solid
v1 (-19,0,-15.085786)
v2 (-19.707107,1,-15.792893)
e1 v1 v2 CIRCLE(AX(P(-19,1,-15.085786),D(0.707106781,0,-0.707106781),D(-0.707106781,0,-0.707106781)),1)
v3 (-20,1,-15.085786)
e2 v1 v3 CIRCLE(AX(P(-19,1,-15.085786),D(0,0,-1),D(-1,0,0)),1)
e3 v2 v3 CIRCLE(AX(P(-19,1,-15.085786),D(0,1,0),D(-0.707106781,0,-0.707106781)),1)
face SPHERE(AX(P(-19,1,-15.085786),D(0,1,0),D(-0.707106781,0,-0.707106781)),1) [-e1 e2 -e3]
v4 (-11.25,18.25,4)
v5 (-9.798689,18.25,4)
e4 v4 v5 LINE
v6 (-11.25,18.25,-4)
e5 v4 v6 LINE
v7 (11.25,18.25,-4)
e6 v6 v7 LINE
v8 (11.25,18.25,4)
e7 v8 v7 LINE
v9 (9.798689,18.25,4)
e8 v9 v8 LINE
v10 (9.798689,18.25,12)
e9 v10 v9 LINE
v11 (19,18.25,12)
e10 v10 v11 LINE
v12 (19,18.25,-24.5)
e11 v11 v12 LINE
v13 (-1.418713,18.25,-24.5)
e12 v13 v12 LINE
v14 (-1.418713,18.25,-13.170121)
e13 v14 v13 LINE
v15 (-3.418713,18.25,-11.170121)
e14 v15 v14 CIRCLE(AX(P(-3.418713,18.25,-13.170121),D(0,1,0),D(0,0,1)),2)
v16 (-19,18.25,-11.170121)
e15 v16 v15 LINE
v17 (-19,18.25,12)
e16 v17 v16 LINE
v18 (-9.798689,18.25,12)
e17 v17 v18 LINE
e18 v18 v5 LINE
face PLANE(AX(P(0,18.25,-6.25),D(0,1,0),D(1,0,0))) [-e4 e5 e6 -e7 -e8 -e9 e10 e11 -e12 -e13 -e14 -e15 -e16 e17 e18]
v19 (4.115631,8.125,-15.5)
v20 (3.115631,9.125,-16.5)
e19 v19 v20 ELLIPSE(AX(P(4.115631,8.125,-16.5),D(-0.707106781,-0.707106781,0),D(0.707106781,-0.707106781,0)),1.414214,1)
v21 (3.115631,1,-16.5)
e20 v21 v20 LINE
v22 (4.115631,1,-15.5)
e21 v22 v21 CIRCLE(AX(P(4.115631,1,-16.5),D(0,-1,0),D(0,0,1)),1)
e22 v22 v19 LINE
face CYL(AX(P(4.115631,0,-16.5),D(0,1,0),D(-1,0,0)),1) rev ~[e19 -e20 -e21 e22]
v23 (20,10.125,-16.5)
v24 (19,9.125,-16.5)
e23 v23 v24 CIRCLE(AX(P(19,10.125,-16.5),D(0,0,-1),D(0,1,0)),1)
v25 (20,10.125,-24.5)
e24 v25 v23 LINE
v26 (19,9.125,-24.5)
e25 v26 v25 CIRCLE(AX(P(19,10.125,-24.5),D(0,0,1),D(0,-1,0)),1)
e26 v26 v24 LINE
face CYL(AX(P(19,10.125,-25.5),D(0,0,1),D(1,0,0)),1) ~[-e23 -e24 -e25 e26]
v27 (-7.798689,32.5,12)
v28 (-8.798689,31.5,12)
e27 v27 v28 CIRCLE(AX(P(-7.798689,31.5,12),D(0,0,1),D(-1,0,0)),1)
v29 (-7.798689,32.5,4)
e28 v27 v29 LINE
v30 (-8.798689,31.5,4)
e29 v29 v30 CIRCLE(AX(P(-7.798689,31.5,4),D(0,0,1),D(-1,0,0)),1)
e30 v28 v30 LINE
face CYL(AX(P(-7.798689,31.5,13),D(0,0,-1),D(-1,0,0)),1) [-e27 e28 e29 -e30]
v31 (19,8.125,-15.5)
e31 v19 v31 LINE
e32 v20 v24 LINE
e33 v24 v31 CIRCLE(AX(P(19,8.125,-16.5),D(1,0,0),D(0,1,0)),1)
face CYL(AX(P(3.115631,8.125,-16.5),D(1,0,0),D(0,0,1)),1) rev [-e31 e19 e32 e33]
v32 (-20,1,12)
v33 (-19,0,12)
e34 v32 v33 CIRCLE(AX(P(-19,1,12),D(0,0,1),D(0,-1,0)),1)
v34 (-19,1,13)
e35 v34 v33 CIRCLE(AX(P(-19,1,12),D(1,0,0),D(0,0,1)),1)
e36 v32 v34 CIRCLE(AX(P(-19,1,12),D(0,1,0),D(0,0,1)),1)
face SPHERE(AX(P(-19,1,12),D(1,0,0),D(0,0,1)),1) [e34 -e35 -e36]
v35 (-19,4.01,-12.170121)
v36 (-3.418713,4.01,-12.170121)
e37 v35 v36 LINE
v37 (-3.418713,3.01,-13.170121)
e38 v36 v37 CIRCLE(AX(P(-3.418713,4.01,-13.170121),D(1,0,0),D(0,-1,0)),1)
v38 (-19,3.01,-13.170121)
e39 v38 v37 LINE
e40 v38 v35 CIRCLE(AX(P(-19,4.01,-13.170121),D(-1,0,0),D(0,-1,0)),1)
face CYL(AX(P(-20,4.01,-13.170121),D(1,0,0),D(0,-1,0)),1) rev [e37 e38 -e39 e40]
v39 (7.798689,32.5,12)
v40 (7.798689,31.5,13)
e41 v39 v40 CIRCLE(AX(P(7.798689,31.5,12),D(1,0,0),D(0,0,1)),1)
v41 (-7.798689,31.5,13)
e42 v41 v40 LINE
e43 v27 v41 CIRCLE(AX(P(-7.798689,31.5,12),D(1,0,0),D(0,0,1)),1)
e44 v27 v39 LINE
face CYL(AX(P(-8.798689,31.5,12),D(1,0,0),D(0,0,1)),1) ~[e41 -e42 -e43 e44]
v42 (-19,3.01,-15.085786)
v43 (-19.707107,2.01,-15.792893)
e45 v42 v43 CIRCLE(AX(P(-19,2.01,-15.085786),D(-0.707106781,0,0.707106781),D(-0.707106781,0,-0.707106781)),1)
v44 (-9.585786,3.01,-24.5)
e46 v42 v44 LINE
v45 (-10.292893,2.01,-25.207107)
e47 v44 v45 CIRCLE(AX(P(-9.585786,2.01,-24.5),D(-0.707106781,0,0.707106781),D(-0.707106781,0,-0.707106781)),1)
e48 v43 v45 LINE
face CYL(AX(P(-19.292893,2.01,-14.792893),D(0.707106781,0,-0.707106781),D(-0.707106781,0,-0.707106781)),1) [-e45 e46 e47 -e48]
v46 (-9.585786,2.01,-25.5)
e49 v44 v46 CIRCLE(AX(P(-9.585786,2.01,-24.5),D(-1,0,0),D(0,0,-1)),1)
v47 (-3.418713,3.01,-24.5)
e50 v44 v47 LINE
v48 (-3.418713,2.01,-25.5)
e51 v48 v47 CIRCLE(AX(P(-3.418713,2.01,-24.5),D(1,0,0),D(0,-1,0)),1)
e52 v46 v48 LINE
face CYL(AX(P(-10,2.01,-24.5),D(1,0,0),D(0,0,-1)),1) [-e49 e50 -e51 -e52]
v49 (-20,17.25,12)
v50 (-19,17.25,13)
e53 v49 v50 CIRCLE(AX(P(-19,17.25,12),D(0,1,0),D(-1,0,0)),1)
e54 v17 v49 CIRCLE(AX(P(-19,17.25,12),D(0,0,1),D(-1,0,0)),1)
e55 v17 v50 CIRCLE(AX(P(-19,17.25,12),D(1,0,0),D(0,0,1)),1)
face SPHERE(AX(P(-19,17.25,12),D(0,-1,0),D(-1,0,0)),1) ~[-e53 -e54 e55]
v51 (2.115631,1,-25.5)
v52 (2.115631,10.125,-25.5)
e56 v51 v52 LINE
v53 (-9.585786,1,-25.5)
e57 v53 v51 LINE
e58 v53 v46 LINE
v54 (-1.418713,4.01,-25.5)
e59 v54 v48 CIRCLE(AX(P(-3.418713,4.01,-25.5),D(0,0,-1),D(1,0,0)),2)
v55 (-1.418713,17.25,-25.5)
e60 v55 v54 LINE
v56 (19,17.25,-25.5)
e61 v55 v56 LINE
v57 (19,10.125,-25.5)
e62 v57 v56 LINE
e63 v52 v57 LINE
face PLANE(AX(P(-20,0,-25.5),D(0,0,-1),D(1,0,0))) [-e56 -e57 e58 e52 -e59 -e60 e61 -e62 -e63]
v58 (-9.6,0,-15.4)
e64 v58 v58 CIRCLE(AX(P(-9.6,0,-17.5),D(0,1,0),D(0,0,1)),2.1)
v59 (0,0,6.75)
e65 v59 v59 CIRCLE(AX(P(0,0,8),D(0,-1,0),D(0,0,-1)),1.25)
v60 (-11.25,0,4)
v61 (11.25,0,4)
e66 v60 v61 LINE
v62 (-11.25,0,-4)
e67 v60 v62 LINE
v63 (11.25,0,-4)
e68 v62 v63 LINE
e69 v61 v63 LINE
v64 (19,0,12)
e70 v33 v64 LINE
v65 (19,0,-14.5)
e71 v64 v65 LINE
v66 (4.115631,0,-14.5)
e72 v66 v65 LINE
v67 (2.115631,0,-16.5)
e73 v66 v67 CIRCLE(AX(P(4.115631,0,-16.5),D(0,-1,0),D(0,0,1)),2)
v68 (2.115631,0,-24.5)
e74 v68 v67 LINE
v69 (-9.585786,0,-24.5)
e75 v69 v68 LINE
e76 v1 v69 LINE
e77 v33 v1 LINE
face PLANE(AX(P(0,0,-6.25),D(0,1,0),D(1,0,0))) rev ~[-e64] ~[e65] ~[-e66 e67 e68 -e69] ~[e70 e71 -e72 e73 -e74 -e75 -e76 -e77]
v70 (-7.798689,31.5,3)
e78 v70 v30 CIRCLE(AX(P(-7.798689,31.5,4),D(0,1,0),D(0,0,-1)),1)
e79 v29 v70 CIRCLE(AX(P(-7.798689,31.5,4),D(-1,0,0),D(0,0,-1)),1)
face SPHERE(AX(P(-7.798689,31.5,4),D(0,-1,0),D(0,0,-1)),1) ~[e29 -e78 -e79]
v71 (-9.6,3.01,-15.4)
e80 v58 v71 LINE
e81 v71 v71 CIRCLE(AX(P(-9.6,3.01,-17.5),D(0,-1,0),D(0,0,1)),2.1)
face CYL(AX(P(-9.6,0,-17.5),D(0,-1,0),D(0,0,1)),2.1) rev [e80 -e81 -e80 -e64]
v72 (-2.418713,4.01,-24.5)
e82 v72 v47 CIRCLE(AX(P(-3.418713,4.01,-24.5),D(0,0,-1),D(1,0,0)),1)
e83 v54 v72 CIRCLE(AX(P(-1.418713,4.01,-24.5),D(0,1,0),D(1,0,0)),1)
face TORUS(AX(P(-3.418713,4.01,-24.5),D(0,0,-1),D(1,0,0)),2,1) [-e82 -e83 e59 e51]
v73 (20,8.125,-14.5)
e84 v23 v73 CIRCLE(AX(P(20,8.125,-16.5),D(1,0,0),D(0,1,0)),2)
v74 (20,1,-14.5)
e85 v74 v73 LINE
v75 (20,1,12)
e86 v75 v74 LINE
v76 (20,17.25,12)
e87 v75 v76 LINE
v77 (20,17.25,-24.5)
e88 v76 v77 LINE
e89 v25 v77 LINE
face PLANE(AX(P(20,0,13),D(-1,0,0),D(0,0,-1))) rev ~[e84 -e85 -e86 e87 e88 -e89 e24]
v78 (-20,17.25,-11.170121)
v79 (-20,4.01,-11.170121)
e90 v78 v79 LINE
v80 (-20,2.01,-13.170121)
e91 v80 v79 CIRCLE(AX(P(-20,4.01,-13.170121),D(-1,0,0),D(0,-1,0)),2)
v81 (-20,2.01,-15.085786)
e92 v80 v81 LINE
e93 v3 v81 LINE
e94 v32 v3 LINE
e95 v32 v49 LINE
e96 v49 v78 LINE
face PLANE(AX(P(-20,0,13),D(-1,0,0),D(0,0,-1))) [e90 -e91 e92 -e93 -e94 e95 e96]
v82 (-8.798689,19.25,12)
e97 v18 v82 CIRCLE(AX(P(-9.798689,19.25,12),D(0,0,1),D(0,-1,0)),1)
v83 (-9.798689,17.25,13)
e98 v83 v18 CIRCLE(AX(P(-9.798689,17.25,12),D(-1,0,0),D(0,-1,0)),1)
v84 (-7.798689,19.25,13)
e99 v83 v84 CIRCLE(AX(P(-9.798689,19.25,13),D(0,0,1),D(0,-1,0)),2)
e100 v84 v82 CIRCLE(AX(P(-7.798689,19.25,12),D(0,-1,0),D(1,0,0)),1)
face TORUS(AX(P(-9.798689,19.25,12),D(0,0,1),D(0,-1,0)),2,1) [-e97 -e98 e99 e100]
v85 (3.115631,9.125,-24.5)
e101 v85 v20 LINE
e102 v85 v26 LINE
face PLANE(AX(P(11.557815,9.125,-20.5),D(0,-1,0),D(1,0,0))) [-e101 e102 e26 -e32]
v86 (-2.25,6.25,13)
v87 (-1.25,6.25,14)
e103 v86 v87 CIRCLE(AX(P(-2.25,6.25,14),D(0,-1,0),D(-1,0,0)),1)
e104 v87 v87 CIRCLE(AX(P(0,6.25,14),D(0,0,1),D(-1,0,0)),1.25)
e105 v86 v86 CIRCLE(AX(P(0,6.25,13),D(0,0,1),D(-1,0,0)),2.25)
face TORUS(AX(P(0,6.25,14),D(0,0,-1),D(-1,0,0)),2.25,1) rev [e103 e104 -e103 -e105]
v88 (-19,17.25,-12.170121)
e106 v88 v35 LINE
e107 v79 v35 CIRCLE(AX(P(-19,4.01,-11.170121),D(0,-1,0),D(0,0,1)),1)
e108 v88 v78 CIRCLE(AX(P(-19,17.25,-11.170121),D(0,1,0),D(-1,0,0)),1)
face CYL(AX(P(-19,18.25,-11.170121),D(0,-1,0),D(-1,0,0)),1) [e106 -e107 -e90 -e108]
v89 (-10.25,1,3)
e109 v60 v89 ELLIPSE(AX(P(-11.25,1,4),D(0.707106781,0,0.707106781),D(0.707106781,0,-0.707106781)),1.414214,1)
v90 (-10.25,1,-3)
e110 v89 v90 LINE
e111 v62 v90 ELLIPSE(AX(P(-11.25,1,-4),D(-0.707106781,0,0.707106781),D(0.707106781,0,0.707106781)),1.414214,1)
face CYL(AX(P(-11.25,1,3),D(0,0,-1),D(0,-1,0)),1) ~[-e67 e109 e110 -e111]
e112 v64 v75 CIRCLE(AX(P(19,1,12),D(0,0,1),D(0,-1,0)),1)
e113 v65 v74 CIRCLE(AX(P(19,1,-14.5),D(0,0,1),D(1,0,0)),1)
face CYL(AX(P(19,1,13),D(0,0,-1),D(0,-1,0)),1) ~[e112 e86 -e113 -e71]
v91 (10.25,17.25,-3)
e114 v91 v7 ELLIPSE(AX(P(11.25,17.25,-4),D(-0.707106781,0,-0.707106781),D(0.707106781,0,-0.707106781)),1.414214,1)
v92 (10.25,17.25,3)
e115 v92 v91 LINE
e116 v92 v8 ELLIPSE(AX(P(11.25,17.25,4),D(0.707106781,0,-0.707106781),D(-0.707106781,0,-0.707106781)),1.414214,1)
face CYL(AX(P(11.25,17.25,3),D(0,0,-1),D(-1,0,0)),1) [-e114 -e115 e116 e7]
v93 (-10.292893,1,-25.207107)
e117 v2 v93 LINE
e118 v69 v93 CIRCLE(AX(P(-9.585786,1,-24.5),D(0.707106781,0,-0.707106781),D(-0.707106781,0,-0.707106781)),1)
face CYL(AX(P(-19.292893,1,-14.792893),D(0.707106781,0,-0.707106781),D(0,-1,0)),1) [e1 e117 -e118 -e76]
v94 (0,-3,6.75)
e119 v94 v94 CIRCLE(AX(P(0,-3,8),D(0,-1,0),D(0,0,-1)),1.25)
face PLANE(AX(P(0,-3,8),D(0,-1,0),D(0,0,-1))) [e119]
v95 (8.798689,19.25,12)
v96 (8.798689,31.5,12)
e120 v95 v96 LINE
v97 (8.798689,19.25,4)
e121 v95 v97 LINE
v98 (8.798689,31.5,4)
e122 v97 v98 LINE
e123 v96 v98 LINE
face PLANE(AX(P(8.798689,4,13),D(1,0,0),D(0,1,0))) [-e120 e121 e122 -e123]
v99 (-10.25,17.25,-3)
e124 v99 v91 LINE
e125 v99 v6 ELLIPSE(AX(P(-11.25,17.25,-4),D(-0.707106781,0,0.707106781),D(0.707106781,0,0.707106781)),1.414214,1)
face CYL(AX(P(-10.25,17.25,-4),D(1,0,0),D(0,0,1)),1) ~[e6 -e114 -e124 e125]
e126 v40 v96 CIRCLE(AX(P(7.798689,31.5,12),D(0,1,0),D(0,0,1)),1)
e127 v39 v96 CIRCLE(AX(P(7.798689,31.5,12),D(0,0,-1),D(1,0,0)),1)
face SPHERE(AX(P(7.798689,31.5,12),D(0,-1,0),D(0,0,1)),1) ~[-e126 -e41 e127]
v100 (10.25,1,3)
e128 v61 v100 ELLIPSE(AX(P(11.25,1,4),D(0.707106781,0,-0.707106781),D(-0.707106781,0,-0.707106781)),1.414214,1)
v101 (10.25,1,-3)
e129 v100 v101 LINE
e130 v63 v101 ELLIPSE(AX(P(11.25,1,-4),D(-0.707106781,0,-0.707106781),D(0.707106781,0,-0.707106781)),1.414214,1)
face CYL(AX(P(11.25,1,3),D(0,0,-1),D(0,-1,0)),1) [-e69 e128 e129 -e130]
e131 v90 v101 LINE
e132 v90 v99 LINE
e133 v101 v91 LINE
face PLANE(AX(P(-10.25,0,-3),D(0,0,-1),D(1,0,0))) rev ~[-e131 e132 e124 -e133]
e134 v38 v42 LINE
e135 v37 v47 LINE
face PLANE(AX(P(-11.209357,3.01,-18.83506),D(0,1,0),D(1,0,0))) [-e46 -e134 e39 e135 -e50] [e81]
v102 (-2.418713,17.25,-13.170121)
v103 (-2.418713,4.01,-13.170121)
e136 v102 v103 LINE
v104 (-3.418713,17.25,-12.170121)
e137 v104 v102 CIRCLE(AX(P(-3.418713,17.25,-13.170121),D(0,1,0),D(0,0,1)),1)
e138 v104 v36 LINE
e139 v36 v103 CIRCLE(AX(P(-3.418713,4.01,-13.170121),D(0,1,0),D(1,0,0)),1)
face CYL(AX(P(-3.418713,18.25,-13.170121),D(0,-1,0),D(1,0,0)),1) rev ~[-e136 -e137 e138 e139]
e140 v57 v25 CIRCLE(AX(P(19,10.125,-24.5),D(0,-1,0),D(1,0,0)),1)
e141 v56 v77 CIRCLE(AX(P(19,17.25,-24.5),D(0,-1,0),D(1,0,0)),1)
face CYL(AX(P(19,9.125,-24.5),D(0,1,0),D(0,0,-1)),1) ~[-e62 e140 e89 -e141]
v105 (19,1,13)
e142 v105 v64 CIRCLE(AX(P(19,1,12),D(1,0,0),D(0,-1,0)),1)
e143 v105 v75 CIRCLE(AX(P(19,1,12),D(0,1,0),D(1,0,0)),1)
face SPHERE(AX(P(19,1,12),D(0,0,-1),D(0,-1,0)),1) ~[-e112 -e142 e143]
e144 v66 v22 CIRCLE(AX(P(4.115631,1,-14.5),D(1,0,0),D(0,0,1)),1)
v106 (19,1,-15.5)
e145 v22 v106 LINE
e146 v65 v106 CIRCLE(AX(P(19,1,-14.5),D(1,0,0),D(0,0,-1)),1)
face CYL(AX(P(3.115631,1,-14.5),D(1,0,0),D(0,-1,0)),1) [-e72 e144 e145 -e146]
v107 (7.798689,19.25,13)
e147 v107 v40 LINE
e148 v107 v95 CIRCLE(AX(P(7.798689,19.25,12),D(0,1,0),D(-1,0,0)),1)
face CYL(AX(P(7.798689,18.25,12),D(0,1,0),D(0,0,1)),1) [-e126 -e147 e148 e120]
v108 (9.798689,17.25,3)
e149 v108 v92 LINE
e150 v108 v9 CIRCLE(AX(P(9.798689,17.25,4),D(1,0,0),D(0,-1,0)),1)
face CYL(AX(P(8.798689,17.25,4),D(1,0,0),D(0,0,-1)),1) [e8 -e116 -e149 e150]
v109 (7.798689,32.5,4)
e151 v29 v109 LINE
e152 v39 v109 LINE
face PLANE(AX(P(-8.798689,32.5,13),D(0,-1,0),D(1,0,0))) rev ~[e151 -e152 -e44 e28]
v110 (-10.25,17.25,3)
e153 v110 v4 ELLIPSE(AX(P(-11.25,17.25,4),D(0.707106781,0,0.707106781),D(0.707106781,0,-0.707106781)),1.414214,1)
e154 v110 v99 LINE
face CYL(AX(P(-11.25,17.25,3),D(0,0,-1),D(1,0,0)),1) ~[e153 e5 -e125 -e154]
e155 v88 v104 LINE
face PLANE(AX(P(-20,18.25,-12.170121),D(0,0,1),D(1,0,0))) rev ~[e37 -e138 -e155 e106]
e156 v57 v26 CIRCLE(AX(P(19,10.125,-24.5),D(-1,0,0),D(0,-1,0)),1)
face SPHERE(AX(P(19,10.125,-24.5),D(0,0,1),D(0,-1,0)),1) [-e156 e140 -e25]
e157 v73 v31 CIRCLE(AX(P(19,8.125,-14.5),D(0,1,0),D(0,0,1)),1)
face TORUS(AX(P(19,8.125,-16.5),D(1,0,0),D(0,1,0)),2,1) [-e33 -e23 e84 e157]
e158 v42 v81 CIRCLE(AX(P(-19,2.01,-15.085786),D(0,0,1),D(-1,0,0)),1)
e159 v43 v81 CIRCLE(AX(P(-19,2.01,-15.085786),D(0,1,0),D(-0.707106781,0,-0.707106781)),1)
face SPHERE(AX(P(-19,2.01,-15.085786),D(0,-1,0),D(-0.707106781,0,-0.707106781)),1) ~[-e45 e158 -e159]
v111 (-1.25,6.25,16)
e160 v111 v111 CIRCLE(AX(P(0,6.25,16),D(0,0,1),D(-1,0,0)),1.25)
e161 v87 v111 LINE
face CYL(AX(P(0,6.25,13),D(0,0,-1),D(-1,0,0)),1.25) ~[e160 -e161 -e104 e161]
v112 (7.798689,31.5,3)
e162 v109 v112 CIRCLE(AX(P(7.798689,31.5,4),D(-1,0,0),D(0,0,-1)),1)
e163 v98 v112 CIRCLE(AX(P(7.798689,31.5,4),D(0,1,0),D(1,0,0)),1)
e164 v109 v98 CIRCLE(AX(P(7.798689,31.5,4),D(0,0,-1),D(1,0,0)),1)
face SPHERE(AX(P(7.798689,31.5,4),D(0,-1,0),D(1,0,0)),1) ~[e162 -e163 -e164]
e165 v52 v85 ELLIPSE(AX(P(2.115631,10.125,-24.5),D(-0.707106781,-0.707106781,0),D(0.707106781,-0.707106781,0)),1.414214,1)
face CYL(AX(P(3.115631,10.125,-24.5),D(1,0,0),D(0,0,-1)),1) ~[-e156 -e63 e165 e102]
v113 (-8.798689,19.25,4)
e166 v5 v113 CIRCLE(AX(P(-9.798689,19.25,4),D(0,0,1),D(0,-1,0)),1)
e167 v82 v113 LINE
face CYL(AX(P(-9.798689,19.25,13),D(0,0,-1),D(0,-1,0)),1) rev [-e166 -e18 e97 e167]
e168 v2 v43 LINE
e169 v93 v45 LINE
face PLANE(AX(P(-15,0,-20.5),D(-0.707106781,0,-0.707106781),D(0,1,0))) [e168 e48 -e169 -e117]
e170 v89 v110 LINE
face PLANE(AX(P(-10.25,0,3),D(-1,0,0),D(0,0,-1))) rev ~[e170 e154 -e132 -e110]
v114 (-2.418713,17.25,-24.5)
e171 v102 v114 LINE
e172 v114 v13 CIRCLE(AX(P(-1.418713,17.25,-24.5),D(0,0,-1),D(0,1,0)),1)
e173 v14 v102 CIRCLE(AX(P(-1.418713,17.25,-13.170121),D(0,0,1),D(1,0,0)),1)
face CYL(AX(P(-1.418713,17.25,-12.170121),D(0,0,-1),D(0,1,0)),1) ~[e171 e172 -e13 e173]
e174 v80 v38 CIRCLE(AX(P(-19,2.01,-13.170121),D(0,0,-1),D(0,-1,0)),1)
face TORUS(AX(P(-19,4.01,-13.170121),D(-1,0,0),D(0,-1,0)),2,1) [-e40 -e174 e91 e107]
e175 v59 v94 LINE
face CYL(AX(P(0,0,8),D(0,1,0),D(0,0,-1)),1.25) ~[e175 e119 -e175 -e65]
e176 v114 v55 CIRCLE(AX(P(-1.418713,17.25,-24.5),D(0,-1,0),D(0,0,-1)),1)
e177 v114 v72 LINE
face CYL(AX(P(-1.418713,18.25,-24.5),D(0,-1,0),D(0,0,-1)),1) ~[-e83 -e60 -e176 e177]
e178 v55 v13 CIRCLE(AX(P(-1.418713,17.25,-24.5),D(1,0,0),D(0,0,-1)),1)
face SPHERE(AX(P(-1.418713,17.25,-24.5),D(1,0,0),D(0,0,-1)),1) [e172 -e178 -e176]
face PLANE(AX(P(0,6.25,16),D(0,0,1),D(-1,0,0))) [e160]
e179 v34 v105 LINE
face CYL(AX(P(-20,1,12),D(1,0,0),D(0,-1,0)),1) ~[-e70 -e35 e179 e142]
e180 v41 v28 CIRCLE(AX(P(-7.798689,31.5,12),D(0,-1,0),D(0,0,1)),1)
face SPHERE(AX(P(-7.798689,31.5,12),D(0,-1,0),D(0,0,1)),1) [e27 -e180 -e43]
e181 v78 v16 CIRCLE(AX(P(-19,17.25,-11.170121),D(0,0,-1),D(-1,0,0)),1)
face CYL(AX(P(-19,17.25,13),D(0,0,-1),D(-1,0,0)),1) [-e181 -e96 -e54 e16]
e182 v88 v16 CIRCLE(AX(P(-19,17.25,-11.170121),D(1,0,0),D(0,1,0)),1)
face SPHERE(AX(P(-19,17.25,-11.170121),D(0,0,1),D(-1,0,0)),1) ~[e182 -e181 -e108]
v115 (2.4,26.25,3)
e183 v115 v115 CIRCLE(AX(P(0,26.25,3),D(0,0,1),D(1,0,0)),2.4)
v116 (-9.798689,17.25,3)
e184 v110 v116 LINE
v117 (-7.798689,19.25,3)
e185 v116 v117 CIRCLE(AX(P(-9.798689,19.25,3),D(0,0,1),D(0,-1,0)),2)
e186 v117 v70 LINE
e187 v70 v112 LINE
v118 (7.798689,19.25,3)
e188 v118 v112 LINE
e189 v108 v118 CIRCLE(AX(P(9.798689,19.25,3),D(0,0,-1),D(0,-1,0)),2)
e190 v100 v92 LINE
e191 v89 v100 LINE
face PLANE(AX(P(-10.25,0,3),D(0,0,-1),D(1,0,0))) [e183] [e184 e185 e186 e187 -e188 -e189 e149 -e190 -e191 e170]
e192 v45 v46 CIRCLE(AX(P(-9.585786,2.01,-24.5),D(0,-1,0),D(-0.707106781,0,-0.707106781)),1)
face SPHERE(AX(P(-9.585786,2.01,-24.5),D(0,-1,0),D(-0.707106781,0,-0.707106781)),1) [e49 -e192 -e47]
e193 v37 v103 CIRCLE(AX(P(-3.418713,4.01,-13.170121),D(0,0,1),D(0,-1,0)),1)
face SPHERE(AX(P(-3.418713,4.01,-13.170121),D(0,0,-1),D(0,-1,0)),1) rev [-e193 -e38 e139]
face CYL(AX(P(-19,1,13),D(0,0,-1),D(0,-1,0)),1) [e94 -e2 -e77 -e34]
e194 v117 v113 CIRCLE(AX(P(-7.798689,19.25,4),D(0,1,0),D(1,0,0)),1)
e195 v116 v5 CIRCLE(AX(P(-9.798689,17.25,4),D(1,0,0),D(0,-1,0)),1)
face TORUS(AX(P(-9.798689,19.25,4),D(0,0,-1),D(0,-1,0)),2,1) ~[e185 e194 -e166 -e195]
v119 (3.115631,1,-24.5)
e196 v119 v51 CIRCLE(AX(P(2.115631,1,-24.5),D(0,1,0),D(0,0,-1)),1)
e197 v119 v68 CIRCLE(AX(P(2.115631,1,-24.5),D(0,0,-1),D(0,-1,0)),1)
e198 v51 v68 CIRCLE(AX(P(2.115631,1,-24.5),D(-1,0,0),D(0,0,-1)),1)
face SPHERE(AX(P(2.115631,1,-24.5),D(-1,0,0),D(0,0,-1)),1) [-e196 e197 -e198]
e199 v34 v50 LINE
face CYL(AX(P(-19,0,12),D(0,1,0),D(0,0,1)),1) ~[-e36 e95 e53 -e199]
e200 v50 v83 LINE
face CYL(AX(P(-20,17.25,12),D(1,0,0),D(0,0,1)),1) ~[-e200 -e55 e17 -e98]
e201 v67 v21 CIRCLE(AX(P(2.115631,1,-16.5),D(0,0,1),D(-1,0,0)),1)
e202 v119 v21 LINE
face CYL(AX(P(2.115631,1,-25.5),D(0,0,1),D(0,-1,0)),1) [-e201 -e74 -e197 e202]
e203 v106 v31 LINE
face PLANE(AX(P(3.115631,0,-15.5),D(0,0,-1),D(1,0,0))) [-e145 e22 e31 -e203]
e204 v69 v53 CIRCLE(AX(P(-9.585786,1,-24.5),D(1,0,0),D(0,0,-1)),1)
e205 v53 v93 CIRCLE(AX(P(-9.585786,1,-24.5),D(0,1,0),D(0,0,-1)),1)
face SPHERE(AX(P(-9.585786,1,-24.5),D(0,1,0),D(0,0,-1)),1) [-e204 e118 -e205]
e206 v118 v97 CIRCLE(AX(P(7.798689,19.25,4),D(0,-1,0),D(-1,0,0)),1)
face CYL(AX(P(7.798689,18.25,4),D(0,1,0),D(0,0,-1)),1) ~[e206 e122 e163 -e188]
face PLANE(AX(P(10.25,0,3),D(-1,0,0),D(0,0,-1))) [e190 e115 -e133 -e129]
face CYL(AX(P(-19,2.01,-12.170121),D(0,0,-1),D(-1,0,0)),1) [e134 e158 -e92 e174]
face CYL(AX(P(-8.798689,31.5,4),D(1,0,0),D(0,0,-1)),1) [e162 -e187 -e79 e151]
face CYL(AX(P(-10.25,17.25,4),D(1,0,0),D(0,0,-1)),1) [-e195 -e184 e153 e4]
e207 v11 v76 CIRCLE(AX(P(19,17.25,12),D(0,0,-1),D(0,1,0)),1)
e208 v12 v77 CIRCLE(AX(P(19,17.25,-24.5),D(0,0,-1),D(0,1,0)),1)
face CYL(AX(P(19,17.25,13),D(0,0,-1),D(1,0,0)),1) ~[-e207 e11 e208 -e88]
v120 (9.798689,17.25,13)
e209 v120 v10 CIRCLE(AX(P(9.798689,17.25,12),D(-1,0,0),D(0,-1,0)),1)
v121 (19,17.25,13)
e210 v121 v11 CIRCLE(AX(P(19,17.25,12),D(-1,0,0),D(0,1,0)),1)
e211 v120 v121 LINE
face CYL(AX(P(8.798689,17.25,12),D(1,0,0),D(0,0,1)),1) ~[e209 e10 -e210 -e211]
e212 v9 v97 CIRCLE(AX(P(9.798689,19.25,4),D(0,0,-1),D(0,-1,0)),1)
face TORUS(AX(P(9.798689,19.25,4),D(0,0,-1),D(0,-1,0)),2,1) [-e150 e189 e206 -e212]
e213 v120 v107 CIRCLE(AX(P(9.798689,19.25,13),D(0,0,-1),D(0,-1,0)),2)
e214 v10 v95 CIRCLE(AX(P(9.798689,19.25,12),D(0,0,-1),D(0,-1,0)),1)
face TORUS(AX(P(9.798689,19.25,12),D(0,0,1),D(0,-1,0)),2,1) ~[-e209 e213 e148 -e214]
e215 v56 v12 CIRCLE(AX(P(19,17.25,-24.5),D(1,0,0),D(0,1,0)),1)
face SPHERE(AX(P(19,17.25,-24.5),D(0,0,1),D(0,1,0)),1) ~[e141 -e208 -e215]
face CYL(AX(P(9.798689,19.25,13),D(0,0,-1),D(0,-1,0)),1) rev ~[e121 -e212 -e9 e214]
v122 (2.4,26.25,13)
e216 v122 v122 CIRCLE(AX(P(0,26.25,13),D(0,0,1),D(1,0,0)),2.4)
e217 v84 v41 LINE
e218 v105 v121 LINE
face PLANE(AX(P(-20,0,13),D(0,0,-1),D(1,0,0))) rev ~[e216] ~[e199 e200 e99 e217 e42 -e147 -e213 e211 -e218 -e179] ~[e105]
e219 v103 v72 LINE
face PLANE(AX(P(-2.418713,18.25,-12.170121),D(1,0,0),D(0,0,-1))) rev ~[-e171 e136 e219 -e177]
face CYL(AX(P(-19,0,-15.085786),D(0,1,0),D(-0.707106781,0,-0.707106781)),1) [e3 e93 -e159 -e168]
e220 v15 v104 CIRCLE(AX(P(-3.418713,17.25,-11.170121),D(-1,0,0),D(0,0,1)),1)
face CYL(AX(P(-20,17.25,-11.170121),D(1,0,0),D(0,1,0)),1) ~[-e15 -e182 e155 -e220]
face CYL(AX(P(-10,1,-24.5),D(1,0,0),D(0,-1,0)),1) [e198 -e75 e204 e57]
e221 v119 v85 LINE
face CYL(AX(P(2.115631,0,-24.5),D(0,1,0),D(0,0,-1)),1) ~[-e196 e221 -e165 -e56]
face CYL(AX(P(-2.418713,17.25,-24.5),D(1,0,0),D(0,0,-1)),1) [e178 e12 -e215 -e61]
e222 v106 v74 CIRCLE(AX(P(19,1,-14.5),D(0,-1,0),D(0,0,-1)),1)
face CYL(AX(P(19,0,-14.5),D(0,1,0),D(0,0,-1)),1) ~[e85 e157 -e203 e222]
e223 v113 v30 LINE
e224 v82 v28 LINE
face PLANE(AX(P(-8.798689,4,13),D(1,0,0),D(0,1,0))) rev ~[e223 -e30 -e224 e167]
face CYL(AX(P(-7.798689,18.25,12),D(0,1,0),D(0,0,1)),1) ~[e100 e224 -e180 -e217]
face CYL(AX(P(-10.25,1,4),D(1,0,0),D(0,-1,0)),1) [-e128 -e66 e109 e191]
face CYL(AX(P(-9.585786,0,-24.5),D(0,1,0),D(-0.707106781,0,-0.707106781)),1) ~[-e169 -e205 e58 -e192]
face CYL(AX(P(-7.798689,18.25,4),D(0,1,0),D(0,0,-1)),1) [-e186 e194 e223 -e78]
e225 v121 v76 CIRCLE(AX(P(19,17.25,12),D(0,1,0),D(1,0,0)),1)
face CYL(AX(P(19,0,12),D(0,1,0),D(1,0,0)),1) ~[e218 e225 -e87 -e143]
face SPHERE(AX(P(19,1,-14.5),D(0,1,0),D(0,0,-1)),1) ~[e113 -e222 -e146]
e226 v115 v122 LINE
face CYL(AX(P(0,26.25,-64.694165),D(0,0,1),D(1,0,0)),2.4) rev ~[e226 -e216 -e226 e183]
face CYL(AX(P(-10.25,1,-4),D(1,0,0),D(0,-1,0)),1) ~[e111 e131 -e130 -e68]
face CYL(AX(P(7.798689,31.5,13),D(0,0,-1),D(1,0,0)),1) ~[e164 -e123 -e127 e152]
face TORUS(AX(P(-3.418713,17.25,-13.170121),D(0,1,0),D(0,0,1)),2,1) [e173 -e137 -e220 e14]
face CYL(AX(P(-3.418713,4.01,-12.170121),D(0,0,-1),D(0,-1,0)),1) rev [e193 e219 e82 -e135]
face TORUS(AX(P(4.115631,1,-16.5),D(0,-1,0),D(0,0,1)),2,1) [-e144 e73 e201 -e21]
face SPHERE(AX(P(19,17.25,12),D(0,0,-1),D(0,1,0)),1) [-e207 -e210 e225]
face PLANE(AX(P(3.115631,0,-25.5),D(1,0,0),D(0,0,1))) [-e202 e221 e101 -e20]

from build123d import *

# Parameters (mm, degrees)
SKETCH1_W            = 40
SKETCH1_H            = 38.5
SKETCH1_R            = 2.1
SKETCH1_W_2          = 20.5
SKETCH1_H_2          = 6
BOSS_EXTRUDE1_DEPTH  = 18.25
SKETCH2_W            = 17.597378004
SKETCH2_H            = 28.5
SKETCH2_R            = 1.25
SKETCH2_R_2          = 0.693041975
BOSS_EXTRUDE2_DEPTH  = 10
SKETCH3_R            = 1.25
BOSS_EXTRUDE3_DEPTH  = 3
SKETCH4_R            = 1.25
BOSS_EXTRUDE4_DEPTH  = 3
SKETCH5_W            = 17.581286621
SKETCH5_H            = 13.329879295
CUT_EXTRUDE1_DEPTH   = 15.24
CHAMFER1_SIZE        = 10
SKETCH6_W            = 16.884369207
SKETCH6_H            = 10
CUT_EXTRUDE2_DEPTH   = 9.125
FILLET1_R            = 1
M4_CLEARANCE_HOLE1_D = 4.8


with BuildPart() as part:
    # Sketch1 → Boss-Extrude1 (new body)
    with BuildSketch(Plane(origin=(0, 0, 0), x_dir=(1, 0, 0), z_dir=(0, 1, 0))):
        with Locations((0, 6.25)):
            Rectangle(SKETCH1_W, SKETCH1_H)
        with Locations(Location((-9.6, 17.5, 0), (0, 0, 270))):
            Circle(SKETCH1_R, mode=Mode.SUBTRACT)
        Rectangle(SKETCH1_W_2, SKETCH1_H_2, mode=Mode.SUBTRACT)
    extrude(amount=BOSS_EXTRUDE1_DEPTH)

    # Sketch2 → Boss-Extrude2 (add)
    with BuildSketch(Plane.XY.offset(13)):
        with Locations((0, 18.25)):
            Rectangle(SKETCH2_W, SKETCH2_H)
        with Locations((0, 6.25)):
            Circle(SKETCH2_R, mode=Mode.SUBTRACT)
        with Locations((0, 26.25)):
            Circle(SKETCH2_R_2, mode=Mode.SUBTRACT)
    extrude(amount=-BOSS_EXTRUDE2_DEPTH)

    # Sketch3 → Boss-Extrude3 (add)
    with BuildSketch(Plane.XY.offset(13)):
        with Locations(Location((0, 6.25, 0), (0, 0, 180))):
            Circle(SKETCH3_R)
    extrude(amount=BOSS_EXTRUDE3_DEPTH)

    # Sketch4 → Boss-Extrude4 (add)
    with BuildSketch(Plane.XZ):
        with Locations(Location((0, 8, 0), (0, 0, 270))):
            Circle(SKETCH4_R)
    extrude(amount=BOSS_EXTRUDE4_DEPTH)

    # Sketch5 → Cut-Extrude1 (cut)
    with BuildSketch(Plane(origin=(0, 18.25, 0), x_dir=(1, 0, 0), z_dir=(0, 1, 0))):
        with Locations((-11.209356689, 18.835060353)):
            Rectangle(SKETCH5_W, SKETCH5_H)
    extrude(amount=-CUT_EXTRUDE1_DEPTH, mode=Mode.SUBTRACT)

    # Chamfer1
    chamfer1_edges = [part.edges().sort_by_distance(p)[0] for p in [
        (-20, 1.505, -25.5),
    ]]
    chamfer(chamfer1_edges, length=CHAMFER1_SIZE)

    # Sketch6 → Cut-Extrude2 (cut)
    with BuildSketch(Plane.XZ):
        with Locations((11.557815397, -20.5)):
            Rectangle(SKETCH6_W, SKETCH6_H)
    extrude(amount=-CUT_EXTRUDE2_DEPTH, mode=Mode.SUBTRACT)

    # Fillet1
    fillet1_edges = [part.edges().sort_by_distance(p)[0] for p in [
        (-3.442184603, 0, -25.5),
        (20, 9.125, -20.5),
        (20, 4.5625, -15.5),
        (11.557815397, 9.125, -25.5),
        (3.115630793, 4.5625, -25.5),
        (11.557815397, 9.125, -15.5),
        (3.115630793, 4.5625, -15.5),
        (11.557815397, 0, -15.5),
        (3.115630793, 0, -20.5),
        (20, 18.25, -6.25),
        (10.25, 0, 0),
        (0, 0, -3),
        (-10.25, 0, 0),
        (0, 0, 3),
        (10.25, 18.25, 0),
        (8.79064331, 18.25, -25.5),
        (0, 18.25, -3),
        (-10.25, 18.25, 0),
        (-9.524344501, 18.25, 3),
        (9.524344501, 18.25, 3),
        (14.399344501, 18.25, 13),
        (-8.798689002, 25.375, 13),
        (8.798689002, 25.375, 13),
        (0, 32.5, 13),
        (8.798689002, 25.375, 3),
        (8.798689002, 32.5, 8),
        (-8.798689002, 25.375, 3),
        (8.798689002, 18.25, 8),
        (-8.798689002, 18.25, 8),
        (0, 32.5, 3),
        (-8.798689002, 32.5, 8),
        (-0.693041975, 26.25, 13),
        (20, 0, -1.25),
        (1.25, 6.25, 13),
        (0, 0, 13),
        (20, 13.6875, -25.5),
        (20, 9.125, 13),
        (-20, 9.125, 13),
        (-20, 18.25, 0.414939647),
        (-20, 10.63, -12.170120705),
        (-6.20935669, 3.01, -25.5),
        (-2.418713379, 3.01, -18.835060353),
        (-2.418713379, 10.63, -25.5),
        (-11.20935669, 3.01, -12.170120705),
        (-2.418713379, 10.63, -12.170120705),
        (-11.20935669, 18.25, -12.170120705),
        (-2.418713379, 18.25, -18.835060353),
        (-14.399344501, 18.25, 13),
        (-20, 3.01, -13.835060353),
        (-20, 0, -1.25),
        (-20, 1.505, -15.5),
        (-15, 0, -20.5),
        (-10, 1.505, -25.5),
        (-15, 3.01, -20.5),
    ]]
    fillet(fillet1_edges, radius=FILLET1_R)

    # M4 Clearance Hole1 (through all)
    with Locations(Plane(origin=(0, 0, 3), x_dir=(-1, 0, 0), z_dir=(0, 0, -1))):
        with Locations((0, 26.25)):
            Hole(M4_CLEARANCE_HOLE1_D / 2)


solid = part.part
